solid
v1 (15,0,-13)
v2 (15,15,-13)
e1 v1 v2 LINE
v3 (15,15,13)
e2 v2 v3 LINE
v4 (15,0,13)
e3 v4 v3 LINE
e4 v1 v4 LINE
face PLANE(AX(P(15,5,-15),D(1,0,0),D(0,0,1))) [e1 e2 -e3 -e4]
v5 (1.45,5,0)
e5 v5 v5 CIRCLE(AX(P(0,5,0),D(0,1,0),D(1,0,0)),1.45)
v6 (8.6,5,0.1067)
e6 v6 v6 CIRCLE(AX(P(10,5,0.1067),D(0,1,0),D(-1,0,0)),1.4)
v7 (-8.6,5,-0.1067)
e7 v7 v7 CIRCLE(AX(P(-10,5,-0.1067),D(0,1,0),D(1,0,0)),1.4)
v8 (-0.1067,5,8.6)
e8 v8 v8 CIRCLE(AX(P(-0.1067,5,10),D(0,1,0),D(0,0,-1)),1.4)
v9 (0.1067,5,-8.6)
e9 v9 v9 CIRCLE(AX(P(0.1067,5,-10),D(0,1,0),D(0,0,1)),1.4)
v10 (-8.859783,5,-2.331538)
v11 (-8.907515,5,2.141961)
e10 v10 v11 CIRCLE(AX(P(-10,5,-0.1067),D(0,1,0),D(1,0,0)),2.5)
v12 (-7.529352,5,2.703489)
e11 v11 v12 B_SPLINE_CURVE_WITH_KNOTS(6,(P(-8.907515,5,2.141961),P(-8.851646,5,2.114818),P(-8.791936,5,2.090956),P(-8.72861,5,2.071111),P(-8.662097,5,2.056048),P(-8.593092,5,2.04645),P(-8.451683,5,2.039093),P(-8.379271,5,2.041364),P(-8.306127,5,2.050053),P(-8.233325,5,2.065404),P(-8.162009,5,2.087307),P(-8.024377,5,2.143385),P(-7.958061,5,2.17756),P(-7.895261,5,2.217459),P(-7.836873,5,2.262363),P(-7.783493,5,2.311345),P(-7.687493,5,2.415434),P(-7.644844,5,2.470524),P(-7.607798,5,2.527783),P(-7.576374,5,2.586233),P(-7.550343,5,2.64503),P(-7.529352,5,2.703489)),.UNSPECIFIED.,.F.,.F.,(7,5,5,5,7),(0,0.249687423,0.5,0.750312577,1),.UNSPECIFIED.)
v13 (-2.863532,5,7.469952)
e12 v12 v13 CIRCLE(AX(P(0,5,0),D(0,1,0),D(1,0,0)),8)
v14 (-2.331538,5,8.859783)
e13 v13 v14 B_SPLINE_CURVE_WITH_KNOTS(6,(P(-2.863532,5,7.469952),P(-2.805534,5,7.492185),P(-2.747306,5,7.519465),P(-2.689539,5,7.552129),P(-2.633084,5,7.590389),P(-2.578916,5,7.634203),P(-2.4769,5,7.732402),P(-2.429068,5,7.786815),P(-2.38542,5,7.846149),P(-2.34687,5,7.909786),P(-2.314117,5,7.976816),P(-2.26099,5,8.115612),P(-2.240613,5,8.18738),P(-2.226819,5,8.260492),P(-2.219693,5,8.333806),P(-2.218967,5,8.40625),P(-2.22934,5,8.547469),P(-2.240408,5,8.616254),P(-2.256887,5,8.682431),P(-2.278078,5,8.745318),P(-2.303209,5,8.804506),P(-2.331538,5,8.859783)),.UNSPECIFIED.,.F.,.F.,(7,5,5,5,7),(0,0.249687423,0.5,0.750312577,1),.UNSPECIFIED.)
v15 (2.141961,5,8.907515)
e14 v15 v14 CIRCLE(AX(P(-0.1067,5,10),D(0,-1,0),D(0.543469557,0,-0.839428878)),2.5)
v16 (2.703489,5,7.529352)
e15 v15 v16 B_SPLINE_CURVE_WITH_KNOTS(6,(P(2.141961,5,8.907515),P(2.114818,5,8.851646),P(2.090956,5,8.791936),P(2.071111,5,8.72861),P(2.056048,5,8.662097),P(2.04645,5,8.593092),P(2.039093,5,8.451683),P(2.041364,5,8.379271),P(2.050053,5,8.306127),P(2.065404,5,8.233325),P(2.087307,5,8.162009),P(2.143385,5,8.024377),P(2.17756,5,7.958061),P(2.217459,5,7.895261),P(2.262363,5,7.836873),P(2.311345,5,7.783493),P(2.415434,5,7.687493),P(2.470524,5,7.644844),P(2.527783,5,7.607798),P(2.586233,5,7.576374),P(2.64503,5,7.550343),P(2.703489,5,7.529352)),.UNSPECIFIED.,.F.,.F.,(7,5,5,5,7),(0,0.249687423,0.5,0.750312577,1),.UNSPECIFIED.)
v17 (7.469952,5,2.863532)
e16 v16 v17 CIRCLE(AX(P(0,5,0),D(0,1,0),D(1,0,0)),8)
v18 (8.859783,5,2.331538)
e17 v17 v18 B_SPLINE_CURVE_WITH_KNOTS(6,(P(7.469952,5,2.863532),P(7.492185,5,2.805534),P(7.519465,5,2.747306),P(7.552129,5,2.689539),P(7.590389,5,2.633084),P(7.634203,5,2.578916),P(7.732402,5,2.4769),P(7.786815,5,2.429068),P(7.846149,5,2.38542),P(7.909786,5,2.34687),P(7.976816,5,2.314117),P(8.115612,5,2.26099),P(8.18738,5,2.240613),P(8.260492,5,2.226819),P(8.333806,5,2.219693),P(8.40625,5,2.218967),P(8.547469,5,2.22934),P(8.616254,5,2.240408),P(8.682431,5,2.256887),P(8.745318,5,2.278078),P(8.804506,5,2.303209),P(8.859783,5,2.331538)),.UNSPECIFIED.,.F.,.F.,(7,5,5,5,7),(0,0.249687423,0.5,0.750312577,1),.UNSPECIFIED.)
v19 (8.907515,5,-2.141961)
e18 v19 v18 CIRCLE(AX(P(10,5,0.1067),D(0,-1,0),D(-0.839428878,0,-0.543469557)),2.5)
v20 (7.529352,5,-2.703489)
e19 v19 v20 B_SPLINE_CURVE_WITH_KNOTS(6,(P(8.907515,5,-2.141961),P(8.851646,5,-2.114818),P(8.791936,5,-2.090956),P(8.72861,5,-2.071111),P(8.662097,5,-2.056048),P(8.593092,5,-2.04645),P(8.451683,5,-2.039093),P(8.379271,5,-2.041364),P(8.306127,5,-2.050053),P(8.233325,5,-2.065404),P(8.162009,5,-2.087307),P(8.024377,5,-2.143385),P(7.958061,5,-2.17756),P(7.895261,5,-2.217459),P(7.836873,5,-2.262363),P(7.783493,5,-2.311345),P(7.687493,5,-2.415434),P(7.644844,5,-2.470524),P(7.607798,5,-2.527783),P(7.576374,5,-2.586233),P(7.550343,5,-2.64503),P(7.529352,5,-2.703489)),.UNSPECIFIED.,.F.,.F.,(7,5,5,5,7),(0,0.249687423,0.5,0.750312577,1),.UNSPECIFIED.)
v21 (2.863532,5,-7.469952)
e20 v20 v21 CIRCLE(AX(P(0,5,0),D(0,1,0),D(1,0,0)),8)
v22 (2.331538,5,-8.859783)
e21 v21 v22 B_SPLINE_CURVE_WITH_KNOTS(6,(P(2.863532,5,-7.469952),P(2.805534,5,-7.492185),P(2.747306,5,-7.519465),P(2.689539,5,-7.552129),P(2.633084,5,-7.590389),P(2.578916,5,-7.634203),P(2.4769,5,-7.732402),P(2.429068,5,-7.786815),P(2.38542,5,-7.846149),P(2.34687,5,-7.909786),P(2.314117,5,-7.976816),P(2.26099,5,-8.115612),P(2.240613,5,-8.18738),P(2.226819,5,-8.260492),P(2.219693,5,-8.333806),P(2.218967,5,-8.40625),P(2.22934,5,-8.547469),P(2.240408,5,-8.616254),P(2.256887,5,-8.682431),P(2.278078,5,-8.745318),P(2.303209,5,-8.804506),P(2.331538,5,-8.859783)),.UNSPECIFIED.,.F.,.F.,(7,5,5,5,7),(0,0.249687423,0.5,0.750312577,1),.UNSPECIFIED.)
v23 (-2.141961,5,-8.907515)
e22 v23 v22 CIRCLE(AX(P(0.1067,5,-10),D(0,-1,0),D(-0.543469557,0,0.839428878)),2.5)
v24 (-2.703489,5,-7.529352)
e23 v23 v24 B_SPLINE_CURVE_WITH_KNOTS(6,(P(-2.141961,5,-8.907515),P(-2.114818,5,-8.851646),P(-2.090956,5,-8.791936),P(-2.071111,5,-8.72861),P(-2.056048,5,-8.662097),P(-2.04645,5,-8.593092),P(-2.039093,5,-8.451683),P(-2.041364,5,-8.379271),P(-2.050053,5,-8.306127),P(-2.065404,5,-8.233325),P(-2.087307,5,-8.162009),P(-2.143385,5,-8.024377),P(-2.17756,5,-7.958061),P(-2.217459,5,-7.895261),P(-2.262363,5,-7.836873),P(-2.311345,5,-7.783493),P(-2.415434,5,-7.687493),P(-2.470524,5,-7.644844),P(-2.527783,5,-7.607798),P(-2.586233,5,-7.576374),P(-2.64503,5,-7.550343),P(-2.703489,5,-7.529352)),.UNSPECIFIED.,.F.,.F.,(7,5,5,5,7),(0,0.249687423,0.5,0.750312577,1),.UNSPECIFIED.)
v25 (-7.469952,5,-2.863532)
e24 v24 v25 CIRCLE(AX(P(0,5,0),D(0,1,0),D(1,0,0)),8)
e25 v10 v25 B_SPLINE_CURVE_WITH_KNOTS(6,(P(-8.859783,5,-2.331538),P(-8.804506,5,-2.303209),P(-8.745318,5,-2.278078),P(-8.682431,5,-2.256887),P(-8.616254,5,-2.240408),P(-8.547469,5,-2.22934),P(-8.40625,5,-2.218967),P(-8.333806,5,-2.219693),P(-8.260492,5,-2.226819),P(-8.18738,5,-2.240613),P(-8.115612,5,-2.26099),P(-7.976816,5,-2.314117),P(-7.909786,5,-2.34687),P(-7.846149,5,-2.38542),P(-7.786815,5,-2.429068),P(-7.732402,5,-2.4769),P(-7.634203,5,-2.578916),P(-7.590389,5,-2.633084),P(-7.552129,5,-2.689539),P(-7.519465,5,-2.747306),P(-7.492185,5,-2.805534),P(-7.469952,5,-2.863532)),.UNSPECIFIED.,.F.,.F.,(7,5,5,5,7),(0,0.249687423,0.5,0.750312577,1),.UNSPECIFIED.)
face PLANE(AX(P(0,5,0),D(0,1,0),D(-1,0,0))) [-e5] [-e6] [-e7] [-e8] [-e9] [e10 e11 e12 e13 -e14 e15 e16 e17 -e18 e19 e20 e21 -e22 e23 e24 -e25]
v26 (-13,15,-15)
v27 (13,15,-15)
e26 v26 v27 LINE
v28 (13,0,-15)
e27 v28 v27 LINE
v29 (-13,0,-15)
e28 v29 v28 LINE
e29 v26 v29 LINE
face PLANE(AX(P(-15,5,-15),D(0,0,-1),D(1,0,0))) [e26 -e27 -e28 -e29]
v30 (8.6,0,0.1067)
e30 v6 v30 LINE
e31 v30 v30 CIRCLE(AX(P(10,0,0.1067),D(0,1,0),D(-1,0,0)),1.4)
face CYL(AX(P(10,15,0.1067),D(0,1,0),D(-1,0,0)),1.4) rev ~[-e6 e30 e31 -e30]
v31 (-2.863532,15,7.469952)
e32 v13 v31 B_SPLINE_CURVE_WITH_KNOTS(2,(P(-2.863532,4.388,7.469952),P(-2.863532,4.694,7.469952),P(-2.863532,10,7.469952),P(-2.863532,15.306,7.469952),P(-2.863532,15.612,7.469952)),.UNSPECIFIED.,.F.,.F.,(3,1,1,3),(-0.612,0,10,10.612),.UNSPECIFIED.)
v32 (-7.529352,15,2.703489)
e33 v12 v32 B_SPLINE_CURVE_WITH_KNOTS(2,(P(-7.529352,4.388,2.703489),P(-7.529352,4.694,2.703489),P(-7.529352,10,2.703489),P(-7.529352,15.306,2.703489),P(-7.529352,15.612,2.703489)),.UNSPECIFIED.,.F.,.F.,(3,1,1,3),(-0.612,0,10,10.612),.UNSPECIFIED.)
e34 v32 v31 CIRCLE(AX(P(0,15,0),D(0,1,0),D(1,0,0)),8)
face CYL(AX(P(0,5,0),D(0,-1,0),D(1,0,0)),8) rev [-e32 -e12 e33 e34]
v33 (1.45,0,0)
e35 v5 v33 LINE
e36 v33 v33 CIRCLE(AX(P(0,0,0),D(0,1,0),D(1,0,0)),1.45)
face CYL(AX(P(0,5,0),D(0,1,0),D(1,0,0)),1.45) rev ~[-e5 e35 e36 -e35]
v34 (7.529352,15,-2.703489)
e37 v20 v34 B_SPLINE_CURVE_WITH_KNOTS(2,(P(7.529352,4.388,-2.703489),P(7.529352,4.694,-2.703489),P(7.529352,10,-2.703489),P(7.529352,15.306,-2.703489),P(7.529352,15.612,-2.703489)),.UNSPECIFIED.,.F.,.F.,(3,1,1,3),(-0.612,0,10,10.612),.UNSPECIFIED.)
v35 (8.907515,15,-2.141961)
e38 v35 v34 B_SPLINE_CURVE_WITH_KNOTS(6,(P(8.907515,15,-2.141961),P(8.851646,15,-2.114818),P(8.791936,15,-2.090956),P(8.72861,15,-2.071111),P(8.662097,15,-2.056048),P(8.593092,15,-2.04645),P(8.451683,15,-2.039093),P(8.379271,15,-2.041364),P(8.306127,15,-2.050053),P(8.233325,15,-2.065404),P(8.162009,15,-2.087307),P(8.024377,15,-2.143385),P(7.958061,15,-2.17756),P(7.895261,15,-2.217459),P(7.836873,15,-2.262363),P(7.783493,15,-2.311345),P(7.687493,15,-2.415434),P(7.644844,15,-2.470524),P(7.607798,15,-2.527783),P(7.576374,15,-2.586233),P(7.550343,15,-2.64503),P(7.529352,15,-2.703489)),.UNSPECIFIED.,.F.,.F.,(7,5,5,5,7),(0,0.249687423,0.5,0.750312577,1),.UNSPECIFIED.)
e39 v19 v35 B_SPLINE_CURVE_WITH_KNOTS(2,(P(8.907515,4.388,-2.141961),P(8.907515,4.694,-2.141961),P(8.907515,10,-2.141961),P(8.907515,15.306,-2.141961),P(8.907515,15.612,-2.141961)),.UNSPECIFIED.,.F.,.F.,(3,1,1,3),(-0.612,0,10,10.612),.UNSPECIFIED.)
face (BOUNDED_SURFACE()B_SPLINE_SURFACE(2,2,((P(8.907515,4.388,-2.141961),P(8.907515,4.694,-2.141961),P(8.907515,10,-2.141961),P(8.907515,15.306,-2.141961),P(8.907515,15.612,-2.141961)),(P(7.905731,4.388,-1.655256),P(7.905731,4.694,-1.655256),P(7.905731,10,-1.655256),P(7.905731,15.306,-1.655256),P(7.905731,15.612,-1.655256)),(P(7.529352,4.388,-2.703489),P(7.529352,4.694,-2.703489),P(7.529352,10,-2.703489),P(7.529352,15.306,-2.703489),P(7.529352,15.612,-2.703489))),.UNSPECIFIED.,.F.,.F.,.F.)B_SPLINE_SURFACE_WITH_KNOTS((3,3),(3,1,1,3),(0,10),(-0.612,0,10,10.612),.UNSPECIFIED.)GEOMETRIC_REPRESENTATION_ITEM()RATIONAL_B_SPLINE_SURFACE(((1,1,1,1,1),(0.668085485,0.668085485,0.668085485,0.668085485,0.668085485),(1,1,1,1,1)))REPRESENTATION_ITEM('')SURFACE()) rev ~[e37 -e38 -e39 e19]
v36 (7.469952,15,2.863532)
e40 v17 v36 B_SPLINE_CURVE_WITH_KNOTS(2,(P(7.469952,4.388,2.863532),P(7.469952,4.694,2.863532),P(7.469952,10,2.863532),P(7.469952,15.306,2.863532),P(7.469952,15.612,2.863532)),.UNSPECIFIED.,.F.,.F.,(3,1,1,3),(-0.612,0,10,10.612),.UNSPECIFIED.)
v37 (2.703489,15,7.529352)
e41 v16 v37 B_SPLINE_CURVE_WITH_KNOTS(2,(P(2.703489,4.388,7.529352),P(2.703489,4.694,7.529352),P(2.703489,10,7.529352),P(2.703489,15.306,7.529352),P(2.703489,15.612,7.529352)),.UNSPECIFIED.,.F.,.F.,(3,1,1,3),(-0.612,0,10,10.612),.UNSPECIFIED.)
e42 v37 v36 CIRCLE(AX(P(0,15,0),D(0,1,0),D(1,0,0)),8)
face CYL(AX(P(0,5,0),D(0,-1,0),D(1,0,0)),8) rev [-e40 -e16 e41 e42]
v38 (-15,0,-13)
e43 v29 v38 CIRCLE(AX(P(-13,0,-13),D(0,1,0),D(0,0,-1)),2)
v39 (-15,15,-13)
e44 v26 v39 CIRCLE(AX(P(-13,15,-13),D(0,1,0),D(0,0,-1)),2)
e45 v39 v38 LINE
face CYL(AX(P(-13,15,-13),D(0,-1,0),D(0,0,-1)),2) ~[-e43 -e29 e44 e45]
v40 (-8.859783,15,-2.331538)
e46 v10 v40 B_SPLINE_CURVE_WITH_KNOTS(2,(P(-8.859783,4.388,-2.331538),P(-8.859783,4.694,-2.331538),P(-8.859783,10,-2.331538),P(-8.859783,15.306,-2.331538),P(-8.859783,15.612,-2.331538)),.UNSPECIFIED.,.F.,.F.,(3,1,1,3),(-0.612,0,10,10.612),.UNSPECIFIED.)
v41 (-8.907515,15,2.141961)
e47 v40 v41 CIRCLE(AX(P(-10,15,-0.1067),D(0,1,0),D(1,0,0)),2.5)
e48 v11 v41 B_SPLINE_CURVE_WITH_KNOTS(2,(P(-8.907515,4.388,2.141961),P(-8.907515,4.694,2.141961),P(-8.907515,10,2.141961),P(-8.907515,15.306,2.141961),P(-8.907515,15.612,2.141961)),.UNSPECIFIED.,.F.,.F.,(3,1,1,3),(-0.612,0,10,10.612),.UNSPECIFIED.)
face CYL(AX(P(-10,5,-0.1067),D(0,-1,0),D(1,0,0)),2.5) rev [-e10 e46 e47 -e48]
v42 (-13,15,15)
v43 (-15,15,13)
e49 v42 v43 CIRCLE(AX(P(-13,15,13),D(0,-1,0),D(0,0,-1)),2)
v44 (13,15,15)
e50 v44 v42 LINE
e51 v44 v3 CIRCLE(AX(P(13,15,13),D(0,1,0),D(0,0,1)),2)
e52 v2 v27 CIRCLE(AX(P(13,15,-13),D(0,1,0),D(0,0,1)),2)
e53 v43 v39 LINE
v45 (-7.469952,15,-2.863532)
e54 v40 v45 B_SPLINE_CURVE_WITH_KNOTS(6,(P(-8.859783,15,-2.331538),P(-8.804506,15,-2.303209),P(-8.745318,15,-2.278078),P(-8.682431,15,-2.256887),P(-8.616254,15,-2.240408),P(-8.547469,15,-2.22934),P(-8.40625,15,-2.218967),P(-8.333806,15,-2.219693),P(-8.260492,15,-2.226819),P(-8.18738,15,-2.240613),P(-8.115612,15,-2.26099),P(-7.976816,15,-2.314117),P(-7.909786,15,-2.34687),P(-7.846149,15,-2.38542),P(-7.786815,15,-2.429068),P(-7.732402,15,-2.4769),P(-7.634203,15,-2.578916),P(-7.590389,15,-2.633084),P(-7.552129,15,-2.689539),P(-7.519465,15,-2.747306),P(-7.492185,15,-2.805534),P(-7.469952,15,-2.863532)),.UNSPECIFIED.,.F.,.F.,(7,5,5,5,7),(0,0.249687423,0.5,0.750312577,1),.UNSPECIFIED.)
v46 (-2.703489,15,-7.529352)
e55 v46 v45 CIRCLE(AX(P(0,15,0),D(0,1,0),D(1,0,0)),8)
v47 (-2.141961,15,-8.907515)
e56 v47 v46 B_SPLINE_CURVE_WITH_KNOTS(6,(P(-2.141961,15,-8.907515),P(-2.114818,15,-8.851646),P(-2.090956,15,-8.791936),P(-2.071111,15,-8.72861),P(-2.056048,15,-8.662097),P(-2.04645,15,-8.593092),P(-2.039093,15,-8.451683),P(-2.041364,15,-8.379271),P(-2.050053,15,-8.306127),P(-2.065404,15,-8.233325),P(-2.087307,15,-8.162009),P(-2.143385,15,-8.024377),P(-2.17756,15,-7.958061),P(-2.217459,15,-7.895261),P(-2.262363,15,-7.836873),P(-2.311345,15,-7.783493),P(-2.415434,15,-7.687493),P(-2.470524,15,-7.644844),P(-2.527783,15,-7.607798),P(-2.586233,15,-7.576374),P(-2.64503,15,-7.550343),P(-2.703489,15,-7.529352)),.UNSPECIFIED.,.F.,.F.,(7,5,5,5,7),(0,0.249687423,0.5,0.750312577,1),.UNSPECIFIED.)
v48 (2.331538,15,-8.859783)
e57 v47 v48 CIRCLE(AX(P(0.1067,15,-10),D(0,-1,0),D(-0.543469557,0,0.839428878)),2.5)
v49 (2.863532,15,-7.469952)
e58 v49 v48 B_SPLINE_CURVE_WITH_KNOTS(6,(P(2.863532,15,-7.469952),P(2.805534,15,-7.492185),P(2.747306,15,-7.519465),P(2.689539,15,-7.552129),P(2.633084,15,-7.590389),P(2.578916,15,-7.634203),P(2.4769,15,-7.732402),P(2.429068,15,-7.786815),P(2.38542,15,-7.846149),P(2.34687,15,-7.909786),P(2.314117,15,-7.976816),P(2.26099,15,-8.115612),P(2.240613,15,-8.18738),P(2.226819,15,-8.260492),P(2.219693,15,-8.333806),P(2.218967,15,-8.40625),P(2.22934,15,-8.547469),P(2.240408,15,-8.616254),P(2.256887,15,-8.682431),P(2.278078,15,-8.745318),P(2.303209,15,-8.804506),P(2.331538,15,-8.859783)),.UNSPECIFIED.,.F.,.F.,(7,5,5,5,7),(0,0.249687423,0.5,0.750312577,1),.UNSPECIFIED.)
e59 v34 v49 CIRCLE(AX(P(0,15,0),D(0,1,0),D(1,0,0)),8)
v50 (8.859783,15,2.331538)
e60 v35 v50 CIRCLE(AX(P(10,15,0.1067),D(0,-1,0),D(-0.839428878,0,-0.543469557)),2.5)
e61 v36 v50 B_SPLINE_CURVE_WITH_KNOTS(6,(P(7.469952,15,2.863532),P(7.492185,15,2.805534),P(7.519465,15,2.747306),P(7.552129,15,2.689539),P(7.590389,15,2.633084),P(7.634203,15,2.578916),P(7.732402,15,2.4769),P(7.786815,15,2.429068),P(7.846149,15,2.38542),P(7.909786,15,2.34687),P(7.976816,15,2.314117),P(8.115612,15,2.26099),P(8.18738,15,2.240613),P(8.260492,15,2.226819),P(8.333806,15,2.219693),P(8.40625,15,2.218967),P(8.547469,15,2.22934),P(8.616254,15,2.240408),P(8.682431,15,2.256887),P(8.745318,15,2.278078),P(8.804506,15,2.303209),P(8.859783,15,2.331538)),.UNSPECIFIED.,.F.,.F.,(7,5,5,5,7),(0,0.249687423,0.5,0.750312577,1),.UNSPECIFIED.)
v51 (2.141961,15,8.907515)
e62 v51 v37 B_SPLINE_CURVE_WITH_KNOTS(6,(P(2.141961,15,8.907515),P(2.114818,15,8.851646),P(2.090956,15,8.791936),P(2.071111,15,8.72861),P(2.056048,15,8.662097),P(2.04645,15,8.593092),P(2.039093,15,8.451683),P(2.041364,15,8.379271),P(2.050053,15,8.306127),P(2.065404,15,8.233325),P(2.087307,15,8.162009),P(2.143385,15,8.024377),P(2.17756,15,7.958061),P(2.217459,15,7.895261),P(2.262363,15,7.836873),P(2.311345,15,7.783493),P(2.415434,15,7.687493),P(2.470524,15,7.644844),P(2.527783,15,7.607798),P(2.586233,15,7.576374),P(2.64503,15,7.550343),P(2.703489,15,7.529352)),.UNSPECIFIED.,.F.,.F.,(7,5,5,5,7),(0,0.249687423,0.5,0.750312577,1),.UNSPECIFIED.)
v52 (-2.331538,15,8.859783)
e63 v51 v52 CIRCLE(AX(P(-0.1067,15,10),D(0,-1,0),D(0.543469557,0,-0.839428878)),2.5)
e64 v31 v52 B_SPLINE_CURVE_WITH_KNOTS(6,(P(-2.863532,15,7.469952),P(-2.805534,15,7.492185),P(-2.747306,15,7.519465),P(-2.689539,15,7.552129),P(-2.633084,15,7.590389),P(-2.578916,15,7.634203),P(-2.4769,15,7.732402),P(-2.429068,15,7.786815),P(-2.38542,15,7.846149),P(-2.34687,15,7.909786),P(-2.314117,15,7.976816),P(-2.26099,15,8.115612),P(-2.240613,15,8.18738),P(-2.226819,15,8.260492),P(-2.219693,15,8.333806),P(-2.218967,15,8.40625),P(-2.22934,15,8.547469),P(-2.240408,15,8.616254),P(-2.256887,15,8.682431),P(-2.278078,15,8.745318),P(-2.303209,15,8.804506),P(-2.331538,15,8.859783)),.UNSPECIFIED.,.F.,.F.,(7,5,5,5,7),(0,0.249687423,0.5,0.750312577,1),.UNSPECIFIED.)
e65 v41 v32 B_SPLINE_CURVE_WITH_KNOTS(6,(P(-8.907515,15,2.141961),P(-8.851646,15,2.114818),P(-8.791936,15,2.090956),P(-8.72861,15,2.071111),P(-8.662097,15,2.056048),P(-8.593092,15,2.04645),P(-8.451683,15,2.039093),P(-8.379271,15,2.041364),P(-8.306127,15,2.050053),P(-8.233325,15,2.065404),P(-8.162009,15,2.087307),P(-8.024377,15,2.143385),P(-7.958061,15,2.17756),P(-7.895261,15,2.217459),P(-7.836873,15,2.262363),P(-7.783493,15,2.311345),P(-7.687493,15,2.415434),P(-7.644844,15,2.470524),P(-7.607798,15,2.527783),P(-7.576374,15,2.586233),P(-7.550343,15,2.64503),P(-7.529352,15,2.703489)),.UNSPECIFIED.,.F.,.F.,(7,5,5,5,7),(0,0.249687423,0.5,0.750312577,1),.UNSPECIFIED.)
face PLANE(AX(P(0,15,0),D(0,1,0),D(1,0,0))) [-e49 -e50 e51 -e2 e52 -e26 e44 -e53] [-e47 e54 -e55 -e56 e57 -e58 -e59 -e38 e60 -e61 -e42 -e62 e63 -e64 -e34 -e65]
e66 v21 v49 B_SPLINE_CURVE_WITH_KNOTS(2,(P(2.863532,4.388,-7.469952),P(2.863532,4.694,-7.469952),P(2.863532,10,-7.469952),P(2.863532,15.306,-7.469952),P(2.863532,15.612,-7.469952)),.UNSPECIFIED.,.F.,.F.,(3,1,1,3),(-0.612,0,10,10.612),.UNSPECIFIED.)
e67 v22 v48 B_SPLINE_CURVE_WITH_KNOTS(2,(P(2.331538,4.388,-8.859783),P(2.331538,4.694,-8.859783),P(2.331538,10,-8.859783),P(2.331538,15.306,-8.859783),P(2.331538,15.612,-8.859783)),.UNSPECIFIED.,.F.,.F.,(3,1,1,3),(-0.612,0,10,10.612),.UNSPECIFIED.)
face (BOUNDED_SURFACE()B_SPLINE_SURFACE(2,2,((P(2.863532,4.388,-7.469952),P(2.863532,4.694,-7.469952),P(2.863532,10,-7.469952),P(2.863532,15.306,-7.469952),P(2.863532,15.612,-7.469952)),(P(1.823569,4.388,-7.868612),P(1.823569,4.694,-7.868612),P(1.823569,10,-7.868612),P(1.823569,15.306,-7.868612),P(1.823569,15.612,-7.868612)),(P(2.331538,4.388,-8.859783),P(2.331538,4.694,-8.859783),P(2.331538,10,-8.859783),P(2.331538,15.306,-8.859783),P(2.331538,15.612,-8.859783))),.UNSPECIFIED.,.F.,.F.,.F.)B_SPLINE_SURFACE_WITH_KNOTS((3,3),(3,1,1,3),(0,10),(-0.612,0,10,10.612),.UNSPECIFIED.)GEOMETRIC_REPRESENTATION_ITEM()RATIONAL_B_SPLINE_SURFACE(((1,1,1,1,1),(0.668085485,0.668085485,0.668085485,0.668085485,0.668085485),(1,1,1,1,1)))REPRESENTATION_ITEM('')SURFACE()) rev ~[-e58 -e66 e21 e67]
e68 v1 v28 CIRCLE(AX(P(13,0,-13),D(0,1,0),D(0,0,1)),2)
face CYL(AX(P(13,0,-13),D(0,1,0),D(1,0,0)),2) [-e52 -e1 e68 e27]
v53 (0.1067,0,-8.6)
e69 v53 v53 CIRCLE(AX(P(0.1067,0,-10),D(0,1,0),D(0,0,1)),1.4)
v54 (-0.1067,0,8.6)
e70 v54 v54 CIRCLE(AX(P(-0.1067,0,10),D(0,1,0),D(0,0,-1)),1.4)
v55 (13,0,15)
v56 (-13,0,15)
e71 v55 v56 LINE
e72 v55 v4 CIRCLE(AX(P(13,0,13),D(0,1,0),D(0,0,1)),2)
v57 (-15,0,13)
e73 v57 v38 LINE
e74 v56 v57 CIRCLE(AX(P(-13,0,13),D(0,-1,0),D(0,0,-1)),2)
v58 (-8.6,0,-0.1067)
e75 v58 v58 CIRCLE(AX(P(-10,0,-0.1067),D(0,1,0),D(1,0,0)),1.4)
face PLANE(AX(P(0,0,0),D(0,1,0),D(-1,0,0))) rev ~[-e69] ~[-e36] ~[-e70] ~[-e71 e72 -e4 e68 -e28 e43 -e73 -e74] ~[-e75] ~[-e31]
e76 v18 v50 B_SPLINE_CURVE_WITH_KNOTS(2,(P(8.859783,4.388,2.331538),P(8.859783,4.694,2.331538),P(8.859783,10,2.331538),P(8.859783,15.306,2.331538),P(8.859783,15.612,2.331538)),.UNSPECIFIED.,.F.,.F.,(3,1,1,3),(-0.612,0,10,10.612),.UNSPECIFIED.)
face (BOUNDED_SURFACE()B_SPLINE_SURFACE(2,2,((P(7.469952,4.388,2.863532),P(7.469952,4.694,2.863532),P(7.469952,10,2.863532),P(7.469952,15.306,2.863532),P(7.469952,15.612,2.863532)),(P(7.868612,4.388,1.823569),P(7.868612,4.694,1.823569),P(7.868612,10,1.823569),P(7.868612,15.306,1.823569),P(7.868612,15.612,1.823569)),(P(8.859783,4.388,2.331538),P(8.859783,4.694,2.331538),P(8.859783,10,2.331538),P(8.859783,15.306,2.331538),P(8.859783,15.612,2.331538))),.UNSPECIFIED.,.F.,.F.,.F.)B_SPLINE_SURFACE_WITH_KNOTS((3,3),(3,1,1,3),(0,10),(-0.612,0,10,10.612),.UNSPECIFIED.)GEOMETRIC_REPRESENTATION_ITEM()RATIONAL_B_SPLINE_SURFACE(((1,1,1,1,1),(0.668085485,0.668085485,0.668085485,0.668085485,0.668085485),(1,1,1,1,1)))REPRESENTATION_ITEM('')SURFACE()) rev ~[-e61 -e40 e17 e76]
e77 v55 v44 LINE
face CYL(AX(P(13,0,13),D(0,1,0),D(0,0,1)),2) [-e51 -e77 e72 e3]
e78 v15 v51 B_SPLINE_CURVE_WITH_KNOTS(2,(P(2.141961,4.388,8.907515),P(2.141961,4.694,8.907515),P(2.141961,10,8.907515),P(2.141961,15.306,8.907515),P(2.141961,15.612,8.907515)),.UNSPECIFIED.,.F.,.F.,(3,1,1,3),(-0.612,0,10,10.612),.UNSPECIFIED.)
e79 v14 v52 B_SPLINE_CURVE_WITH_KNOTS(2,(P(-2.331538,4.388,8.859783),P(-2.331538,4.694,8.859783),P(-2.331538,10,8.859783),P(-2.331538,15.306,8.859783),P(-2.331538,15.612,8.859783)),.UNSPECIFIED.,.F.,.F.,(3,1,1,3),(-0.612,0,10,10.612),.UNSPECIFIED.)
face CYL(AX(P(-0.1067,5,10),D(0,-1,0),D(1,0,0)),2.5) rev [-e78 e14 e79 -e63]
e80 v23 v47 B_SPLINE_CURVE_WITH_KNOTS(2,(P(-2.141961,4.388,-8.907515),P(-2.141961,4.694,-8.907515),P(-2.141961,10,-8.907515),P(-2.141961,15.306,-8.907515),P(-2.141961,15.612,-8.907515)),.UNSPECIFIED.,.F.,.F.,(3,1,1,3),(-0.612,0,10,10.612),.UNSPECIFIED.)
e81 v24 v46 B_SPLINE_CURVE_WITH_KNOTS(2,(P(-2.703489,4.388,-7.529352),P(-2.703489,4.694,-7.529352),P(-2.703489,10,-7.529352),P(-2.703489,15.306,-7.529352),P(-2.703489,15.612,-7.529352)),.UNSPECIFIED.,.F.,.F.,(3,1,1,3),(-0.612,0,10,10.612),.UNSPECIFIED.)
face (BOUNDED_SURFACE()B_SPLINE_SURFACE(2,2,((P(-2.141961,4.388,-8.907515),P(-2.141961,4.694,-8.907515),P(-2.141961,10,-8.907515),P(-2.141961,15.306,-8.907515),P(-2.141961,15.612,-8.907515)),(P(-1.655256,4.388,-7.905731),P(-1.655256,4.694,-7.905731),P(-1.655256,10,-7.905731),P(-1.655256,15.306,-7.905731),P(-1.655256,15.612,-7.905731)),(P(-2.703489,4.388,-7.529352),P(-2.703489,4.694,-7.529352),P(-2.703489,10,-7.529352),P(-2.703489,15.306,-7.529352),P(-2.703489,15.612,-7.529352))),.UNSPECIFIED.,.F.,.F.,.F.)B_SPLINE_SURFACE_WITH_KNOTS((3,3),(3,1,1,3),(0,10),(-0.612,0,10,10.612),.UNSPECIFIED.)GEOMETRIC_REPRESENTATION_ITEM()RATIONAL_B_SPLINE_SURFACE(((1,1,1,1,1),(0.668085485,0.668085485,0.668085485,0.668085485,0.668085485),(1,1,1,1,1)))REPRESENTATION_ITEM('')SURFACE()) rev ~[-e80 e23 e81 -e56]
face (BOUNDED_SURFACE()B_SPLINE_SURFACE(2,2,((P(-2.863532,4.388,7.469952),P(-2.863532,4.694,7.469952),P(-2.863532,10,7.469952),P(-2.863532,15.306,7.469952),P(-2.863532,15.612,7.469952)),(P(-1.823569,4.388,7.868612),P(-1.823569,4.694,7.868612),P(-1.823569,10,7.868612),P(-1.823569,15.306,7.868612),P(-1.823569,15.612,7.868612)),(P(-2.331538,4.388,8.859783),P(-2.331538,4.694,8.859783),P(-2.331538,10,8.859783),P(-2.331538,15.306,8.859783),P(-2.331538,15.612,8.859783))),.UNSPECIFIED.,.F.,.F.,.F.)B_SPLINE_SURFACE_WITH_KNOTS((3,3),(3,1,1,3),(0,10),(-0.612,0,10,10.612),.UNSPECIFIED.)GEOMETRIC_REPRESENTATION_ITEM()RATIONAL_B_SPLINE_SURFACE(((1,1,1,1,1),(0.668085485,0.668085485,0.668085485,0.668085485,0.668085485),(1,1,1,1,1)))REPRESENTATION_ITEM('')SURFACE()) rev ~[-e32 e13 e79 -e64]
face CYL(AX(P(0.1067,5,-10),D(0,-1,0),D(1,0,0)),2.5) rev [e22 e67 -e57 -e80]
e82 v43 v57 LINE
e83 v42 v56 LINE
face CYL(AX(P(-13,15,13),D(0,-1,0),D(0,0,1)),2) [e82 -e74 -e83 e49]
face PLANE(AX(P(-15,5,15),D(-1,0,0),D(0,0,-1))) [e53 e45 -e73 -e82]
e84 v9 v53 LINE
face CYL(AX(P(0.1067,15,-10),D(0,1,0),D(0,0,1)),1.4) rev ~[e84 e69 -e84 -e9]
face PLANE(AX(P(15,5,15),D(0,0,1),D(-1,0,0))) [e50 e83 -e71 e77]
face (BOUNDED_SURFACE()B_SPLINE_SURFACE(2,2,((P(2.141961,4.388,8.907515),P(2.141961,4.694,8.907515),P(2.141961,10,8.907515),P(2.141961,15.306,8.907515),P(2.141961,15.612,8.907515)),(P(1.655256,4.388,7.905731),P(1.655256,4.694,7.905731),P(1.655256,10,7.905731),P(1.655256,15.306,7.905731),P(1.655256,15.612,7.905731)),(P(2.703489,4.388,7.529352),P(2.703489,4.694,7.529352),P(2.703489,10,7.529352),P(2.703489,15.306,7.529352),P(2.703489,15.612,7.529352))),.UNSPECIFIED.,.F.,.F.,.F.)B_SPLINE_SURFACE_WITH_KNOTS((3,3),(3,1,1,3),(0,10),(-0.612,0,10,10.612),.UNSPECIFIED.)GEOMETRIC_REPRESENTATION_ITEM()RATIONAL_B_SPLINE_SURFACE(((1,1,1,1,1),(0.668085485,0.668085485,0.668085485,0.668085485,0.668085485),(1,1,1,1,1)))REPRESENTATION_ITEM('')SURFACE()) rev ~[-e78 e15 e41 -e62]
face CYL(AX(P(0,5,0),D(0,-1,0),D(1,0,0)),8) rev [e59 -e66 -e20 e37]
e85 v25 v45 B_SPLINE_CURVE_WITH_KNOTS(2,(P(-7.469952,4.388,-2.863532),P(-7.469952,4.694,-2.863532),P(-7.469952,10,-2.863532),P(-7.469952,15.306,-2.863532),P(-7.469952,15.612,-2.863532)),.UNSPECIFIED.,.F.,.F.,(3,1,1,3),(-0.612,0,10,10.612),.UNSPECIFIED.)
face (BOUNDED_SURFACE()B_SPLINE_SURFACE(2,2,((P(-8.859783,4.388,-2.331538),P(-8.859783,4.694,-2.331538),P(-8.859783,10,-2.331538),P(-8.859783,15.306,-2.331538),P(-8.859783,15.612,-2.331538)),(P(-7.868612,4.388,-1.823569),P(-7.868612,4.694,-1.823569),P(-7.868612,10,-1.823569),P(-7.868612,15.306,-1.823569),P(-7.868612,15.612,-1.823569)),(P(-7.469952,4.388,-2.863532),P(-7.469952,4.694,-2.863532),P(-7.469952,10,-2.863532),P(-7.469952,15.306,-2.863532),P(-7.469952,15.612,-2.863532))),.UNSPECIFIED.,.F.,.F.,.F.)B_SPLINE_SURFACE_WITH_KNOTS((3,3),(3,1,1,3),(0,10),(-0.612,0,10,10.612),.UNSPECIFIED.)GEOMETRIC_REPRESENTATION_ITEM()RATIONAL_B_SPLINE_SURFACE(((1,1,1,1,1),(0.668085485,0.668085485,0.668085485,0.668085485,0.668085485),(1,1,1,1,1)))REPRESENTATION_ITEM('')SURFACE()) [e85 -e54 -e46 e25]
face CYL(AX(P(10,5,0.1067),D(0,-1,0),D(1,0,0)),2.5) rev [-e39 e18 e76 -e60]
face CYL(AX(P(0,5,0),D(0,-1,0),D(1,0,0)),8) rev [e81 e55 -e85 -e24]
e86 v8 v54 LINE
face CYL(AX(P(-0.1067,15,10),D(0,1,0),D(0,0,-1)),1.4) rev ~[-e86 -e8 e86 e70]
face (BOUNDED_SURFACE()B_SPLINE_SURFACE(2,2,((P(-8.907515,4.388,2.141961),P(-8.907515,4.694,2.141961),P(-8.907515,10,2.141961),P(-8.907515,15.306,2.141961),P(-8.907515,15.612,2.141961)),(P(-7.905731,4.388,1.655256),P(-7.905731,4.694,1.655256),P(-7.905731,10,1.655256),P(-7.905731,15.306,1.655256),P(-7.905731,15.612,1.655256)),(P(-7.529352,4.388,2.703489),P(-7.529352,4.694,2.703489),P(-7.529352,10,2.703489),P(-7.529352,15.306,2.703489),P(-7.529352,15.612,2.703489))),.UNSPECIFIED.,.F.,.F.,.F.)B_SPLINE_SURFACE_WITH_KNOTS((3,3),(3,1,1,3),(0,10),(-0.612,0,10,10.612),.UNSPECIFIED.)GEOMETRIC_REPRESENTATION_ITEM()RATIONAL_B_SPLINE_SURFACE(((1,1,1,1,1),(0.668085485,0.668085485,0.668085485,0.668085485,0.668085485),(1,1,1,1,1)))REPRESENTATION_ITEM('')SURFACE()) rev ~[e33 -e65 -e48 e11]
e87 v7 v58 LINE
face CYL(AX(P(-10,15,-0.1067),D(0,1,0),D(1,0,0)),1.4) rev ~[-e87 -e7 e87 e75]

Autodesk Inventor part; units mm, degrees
ref_plane "YZ Plane" through (0, 0, 0) normal (1, 0, 0) x (0, 1, 0)
ref_plane "XZ Plane" through (0, 0, 0) normal (0, 1, 0) x (-1, 0, 0)
ref_plane "XY Plane" through (0, 0, 0) normal (0, 0, 1) x (1, 0, 0)
sketch "Sketch1" plane through (0, 0, 0) normal (0, 1, 0) x (-1, 0, 0)
  line L0 (-15, 15) -> (15, 15)
  line L1 (15, 15) -> (15, -15)
  line L2 (15, -15) -> (-15, -15)
  line L3 (-15, -15) -> (-15, 15)
  line L4 (-15, 15) -> (15, -15) construction
  line L5 (15, 15) -> (-15, -15) construction
  point P0 (0, 0)
  dimension "d0" = 30
  dimension "d1" = 30
extrude "Extrusion1" add sketch "Sketch1" along normal blind 5
sketch "Sketch2" plane through (0, 5, 0) normal (0, 1, 0) x (1, 0, 0)
  circle A0 centre (0, 0) radius 7
  dimension "d4" = 14
extrude "Extrusion2" add sketch "Sketch2" along normal blind 10
sketch "Sketch3" plane through (0, 5, 0) normal (0, 1, 0) x (1, 0, 0)
  line L0 (-15, -15) -> (15, -15) projected
  line L1 (0, -15) -> (0, 15) construction
  line L2 (15, 15) -> (-15, 15) projected
  line L3 (0, 0.1067) -> (-10, 0.1067) construction
  circle A0 centre (-10, 0.1067) radius 1.4
  point P0 (0, 0)
  point P1 (0, 0)
  dimension "d7" = 2.8
  dimension "d8" = 10
extrude "Extrusion3" add sketch "Sketch3" along normal blind 10
pattern_circular "Circular Pattern1" count 4 over 360 about axis through (0, 5, 0) along (0, 1, 0) of "Extrusion3"
sketch "Sketch4" plane through (0, 5, 0) normal (0, 1, 0) x (1, 0, 0)
  circle A0 centre (-10, 0.1067) radius 1.4 projected
  circle A1 centre (-10, 0.1067) radius 2.5
  circle A2 centre (0.1067, 10) radius 1.4 projected
  circle A3 centre (0.1067, 10) radius 2.5
  circle A4 centre (-0.1067, -10) radius 1.4 projected
  circle A5 centre (-0.1067, -10) radius 2.5
  circle A6 centre (10, -0.1067) radius 1.4 projected
  circle A7 centre (10, -0.1067) radius 2.5
  circle A8 centre (0, 0) radius 7 projected
  circle A9 centre (0, 0) radius 8
  line L0 (15, -15) -> (-15, -15)
  line L1 (-15, -15) -> (-15, 15)
  line L2 (-15, 15) -> (15, 15)
  line L3 (15, 15) -> (15, -15)
  line L4 (15, -15) -> (-15, 15) construction
  line L5 (-15, -15) -> (15, 15) construction
  point P0 (7.8729, -1.4203)
  point P1 (1.2519, -7.9014)
  point P2 (-1.4203, -7.8729)
  point P3 (-7.9014, -1.2519)
  point P4 (-7.8729, 1.4203)
  point P5 (-1.2519, 7.9014)
  point P6 (1.4203, 7.8729)
  point P7 (7.9014, 1.2519)
  dimension "d14" = 5
  dimension "d15" = 5
  dimension "d16" = 5
  dimension "d17" = 5
  dimension "d18" = 16
extrude "Extrusion4" add sketch "Sketch4" along normal up to surface (10 mm away) contours L0 L1 L2 L3
fillet "Fillet1" radius 1 8 edges at (-1.2519, 10, -7.9014) (-7.8729, 10, -1.4203) (-7.9014, 10, 1.2519) (-1.4203, 10, 7.8729) (1.2519, 10, 7.9014) (7.8729, 10, 1.4203) (7.9014, 10, -1.2519) (1.4203, 10, -7.8729)
fillet "Fillet2" radius 2 4 edges at (15, 7.5, 15) (15, 7.5, -15) (-15, 7.5, 15) (-15, 7.5, -15)
sketch "Sketch5" plane through (-10, 15, -0.1067) normal (0, 1, 0) x (1, 0, 0)
  circle A0 centre (0, 0) radius 1.4
  circle A1 centre (0, 0) radius 1.4 projected
  point P0 (10, -0.1067)
extrude "Extrusion5" cut sketch "Sketch5" against normal blind 20.5
pattern_circular "Circular Pattern2" count 4 over 360 about axis through (0, 5, 0) along (0, 1, 0) of "Extrusion5"
sketch "Sketch6" plane through (0, 15, 0) normal (0, 1, 0) x (1, 0, 0)
  circle A0 centre (0, 0) radius 7
  dimension "d28" = 14
extrude "Extrusion6" cut sketch "Sketch6" against normal up to surface (10 mm away)
sketch "Sketch7" plane through (0, 5, 0) normal (0, 1, 0) x (1, 0, 0)
  circle A0 centre (0, 0) radius 1.45
  dimension "d31" = 2.9
extrude "Extrusion7" cut sketch "Sketch7" against normal blind 10
equation "\"d1\" = d0"
equation "\"d15\" = d14"
equation "\"d16\" = d14"
equation "\"d17\" = d14"
properties part number "PDMS stretcher mould divided in parts"
